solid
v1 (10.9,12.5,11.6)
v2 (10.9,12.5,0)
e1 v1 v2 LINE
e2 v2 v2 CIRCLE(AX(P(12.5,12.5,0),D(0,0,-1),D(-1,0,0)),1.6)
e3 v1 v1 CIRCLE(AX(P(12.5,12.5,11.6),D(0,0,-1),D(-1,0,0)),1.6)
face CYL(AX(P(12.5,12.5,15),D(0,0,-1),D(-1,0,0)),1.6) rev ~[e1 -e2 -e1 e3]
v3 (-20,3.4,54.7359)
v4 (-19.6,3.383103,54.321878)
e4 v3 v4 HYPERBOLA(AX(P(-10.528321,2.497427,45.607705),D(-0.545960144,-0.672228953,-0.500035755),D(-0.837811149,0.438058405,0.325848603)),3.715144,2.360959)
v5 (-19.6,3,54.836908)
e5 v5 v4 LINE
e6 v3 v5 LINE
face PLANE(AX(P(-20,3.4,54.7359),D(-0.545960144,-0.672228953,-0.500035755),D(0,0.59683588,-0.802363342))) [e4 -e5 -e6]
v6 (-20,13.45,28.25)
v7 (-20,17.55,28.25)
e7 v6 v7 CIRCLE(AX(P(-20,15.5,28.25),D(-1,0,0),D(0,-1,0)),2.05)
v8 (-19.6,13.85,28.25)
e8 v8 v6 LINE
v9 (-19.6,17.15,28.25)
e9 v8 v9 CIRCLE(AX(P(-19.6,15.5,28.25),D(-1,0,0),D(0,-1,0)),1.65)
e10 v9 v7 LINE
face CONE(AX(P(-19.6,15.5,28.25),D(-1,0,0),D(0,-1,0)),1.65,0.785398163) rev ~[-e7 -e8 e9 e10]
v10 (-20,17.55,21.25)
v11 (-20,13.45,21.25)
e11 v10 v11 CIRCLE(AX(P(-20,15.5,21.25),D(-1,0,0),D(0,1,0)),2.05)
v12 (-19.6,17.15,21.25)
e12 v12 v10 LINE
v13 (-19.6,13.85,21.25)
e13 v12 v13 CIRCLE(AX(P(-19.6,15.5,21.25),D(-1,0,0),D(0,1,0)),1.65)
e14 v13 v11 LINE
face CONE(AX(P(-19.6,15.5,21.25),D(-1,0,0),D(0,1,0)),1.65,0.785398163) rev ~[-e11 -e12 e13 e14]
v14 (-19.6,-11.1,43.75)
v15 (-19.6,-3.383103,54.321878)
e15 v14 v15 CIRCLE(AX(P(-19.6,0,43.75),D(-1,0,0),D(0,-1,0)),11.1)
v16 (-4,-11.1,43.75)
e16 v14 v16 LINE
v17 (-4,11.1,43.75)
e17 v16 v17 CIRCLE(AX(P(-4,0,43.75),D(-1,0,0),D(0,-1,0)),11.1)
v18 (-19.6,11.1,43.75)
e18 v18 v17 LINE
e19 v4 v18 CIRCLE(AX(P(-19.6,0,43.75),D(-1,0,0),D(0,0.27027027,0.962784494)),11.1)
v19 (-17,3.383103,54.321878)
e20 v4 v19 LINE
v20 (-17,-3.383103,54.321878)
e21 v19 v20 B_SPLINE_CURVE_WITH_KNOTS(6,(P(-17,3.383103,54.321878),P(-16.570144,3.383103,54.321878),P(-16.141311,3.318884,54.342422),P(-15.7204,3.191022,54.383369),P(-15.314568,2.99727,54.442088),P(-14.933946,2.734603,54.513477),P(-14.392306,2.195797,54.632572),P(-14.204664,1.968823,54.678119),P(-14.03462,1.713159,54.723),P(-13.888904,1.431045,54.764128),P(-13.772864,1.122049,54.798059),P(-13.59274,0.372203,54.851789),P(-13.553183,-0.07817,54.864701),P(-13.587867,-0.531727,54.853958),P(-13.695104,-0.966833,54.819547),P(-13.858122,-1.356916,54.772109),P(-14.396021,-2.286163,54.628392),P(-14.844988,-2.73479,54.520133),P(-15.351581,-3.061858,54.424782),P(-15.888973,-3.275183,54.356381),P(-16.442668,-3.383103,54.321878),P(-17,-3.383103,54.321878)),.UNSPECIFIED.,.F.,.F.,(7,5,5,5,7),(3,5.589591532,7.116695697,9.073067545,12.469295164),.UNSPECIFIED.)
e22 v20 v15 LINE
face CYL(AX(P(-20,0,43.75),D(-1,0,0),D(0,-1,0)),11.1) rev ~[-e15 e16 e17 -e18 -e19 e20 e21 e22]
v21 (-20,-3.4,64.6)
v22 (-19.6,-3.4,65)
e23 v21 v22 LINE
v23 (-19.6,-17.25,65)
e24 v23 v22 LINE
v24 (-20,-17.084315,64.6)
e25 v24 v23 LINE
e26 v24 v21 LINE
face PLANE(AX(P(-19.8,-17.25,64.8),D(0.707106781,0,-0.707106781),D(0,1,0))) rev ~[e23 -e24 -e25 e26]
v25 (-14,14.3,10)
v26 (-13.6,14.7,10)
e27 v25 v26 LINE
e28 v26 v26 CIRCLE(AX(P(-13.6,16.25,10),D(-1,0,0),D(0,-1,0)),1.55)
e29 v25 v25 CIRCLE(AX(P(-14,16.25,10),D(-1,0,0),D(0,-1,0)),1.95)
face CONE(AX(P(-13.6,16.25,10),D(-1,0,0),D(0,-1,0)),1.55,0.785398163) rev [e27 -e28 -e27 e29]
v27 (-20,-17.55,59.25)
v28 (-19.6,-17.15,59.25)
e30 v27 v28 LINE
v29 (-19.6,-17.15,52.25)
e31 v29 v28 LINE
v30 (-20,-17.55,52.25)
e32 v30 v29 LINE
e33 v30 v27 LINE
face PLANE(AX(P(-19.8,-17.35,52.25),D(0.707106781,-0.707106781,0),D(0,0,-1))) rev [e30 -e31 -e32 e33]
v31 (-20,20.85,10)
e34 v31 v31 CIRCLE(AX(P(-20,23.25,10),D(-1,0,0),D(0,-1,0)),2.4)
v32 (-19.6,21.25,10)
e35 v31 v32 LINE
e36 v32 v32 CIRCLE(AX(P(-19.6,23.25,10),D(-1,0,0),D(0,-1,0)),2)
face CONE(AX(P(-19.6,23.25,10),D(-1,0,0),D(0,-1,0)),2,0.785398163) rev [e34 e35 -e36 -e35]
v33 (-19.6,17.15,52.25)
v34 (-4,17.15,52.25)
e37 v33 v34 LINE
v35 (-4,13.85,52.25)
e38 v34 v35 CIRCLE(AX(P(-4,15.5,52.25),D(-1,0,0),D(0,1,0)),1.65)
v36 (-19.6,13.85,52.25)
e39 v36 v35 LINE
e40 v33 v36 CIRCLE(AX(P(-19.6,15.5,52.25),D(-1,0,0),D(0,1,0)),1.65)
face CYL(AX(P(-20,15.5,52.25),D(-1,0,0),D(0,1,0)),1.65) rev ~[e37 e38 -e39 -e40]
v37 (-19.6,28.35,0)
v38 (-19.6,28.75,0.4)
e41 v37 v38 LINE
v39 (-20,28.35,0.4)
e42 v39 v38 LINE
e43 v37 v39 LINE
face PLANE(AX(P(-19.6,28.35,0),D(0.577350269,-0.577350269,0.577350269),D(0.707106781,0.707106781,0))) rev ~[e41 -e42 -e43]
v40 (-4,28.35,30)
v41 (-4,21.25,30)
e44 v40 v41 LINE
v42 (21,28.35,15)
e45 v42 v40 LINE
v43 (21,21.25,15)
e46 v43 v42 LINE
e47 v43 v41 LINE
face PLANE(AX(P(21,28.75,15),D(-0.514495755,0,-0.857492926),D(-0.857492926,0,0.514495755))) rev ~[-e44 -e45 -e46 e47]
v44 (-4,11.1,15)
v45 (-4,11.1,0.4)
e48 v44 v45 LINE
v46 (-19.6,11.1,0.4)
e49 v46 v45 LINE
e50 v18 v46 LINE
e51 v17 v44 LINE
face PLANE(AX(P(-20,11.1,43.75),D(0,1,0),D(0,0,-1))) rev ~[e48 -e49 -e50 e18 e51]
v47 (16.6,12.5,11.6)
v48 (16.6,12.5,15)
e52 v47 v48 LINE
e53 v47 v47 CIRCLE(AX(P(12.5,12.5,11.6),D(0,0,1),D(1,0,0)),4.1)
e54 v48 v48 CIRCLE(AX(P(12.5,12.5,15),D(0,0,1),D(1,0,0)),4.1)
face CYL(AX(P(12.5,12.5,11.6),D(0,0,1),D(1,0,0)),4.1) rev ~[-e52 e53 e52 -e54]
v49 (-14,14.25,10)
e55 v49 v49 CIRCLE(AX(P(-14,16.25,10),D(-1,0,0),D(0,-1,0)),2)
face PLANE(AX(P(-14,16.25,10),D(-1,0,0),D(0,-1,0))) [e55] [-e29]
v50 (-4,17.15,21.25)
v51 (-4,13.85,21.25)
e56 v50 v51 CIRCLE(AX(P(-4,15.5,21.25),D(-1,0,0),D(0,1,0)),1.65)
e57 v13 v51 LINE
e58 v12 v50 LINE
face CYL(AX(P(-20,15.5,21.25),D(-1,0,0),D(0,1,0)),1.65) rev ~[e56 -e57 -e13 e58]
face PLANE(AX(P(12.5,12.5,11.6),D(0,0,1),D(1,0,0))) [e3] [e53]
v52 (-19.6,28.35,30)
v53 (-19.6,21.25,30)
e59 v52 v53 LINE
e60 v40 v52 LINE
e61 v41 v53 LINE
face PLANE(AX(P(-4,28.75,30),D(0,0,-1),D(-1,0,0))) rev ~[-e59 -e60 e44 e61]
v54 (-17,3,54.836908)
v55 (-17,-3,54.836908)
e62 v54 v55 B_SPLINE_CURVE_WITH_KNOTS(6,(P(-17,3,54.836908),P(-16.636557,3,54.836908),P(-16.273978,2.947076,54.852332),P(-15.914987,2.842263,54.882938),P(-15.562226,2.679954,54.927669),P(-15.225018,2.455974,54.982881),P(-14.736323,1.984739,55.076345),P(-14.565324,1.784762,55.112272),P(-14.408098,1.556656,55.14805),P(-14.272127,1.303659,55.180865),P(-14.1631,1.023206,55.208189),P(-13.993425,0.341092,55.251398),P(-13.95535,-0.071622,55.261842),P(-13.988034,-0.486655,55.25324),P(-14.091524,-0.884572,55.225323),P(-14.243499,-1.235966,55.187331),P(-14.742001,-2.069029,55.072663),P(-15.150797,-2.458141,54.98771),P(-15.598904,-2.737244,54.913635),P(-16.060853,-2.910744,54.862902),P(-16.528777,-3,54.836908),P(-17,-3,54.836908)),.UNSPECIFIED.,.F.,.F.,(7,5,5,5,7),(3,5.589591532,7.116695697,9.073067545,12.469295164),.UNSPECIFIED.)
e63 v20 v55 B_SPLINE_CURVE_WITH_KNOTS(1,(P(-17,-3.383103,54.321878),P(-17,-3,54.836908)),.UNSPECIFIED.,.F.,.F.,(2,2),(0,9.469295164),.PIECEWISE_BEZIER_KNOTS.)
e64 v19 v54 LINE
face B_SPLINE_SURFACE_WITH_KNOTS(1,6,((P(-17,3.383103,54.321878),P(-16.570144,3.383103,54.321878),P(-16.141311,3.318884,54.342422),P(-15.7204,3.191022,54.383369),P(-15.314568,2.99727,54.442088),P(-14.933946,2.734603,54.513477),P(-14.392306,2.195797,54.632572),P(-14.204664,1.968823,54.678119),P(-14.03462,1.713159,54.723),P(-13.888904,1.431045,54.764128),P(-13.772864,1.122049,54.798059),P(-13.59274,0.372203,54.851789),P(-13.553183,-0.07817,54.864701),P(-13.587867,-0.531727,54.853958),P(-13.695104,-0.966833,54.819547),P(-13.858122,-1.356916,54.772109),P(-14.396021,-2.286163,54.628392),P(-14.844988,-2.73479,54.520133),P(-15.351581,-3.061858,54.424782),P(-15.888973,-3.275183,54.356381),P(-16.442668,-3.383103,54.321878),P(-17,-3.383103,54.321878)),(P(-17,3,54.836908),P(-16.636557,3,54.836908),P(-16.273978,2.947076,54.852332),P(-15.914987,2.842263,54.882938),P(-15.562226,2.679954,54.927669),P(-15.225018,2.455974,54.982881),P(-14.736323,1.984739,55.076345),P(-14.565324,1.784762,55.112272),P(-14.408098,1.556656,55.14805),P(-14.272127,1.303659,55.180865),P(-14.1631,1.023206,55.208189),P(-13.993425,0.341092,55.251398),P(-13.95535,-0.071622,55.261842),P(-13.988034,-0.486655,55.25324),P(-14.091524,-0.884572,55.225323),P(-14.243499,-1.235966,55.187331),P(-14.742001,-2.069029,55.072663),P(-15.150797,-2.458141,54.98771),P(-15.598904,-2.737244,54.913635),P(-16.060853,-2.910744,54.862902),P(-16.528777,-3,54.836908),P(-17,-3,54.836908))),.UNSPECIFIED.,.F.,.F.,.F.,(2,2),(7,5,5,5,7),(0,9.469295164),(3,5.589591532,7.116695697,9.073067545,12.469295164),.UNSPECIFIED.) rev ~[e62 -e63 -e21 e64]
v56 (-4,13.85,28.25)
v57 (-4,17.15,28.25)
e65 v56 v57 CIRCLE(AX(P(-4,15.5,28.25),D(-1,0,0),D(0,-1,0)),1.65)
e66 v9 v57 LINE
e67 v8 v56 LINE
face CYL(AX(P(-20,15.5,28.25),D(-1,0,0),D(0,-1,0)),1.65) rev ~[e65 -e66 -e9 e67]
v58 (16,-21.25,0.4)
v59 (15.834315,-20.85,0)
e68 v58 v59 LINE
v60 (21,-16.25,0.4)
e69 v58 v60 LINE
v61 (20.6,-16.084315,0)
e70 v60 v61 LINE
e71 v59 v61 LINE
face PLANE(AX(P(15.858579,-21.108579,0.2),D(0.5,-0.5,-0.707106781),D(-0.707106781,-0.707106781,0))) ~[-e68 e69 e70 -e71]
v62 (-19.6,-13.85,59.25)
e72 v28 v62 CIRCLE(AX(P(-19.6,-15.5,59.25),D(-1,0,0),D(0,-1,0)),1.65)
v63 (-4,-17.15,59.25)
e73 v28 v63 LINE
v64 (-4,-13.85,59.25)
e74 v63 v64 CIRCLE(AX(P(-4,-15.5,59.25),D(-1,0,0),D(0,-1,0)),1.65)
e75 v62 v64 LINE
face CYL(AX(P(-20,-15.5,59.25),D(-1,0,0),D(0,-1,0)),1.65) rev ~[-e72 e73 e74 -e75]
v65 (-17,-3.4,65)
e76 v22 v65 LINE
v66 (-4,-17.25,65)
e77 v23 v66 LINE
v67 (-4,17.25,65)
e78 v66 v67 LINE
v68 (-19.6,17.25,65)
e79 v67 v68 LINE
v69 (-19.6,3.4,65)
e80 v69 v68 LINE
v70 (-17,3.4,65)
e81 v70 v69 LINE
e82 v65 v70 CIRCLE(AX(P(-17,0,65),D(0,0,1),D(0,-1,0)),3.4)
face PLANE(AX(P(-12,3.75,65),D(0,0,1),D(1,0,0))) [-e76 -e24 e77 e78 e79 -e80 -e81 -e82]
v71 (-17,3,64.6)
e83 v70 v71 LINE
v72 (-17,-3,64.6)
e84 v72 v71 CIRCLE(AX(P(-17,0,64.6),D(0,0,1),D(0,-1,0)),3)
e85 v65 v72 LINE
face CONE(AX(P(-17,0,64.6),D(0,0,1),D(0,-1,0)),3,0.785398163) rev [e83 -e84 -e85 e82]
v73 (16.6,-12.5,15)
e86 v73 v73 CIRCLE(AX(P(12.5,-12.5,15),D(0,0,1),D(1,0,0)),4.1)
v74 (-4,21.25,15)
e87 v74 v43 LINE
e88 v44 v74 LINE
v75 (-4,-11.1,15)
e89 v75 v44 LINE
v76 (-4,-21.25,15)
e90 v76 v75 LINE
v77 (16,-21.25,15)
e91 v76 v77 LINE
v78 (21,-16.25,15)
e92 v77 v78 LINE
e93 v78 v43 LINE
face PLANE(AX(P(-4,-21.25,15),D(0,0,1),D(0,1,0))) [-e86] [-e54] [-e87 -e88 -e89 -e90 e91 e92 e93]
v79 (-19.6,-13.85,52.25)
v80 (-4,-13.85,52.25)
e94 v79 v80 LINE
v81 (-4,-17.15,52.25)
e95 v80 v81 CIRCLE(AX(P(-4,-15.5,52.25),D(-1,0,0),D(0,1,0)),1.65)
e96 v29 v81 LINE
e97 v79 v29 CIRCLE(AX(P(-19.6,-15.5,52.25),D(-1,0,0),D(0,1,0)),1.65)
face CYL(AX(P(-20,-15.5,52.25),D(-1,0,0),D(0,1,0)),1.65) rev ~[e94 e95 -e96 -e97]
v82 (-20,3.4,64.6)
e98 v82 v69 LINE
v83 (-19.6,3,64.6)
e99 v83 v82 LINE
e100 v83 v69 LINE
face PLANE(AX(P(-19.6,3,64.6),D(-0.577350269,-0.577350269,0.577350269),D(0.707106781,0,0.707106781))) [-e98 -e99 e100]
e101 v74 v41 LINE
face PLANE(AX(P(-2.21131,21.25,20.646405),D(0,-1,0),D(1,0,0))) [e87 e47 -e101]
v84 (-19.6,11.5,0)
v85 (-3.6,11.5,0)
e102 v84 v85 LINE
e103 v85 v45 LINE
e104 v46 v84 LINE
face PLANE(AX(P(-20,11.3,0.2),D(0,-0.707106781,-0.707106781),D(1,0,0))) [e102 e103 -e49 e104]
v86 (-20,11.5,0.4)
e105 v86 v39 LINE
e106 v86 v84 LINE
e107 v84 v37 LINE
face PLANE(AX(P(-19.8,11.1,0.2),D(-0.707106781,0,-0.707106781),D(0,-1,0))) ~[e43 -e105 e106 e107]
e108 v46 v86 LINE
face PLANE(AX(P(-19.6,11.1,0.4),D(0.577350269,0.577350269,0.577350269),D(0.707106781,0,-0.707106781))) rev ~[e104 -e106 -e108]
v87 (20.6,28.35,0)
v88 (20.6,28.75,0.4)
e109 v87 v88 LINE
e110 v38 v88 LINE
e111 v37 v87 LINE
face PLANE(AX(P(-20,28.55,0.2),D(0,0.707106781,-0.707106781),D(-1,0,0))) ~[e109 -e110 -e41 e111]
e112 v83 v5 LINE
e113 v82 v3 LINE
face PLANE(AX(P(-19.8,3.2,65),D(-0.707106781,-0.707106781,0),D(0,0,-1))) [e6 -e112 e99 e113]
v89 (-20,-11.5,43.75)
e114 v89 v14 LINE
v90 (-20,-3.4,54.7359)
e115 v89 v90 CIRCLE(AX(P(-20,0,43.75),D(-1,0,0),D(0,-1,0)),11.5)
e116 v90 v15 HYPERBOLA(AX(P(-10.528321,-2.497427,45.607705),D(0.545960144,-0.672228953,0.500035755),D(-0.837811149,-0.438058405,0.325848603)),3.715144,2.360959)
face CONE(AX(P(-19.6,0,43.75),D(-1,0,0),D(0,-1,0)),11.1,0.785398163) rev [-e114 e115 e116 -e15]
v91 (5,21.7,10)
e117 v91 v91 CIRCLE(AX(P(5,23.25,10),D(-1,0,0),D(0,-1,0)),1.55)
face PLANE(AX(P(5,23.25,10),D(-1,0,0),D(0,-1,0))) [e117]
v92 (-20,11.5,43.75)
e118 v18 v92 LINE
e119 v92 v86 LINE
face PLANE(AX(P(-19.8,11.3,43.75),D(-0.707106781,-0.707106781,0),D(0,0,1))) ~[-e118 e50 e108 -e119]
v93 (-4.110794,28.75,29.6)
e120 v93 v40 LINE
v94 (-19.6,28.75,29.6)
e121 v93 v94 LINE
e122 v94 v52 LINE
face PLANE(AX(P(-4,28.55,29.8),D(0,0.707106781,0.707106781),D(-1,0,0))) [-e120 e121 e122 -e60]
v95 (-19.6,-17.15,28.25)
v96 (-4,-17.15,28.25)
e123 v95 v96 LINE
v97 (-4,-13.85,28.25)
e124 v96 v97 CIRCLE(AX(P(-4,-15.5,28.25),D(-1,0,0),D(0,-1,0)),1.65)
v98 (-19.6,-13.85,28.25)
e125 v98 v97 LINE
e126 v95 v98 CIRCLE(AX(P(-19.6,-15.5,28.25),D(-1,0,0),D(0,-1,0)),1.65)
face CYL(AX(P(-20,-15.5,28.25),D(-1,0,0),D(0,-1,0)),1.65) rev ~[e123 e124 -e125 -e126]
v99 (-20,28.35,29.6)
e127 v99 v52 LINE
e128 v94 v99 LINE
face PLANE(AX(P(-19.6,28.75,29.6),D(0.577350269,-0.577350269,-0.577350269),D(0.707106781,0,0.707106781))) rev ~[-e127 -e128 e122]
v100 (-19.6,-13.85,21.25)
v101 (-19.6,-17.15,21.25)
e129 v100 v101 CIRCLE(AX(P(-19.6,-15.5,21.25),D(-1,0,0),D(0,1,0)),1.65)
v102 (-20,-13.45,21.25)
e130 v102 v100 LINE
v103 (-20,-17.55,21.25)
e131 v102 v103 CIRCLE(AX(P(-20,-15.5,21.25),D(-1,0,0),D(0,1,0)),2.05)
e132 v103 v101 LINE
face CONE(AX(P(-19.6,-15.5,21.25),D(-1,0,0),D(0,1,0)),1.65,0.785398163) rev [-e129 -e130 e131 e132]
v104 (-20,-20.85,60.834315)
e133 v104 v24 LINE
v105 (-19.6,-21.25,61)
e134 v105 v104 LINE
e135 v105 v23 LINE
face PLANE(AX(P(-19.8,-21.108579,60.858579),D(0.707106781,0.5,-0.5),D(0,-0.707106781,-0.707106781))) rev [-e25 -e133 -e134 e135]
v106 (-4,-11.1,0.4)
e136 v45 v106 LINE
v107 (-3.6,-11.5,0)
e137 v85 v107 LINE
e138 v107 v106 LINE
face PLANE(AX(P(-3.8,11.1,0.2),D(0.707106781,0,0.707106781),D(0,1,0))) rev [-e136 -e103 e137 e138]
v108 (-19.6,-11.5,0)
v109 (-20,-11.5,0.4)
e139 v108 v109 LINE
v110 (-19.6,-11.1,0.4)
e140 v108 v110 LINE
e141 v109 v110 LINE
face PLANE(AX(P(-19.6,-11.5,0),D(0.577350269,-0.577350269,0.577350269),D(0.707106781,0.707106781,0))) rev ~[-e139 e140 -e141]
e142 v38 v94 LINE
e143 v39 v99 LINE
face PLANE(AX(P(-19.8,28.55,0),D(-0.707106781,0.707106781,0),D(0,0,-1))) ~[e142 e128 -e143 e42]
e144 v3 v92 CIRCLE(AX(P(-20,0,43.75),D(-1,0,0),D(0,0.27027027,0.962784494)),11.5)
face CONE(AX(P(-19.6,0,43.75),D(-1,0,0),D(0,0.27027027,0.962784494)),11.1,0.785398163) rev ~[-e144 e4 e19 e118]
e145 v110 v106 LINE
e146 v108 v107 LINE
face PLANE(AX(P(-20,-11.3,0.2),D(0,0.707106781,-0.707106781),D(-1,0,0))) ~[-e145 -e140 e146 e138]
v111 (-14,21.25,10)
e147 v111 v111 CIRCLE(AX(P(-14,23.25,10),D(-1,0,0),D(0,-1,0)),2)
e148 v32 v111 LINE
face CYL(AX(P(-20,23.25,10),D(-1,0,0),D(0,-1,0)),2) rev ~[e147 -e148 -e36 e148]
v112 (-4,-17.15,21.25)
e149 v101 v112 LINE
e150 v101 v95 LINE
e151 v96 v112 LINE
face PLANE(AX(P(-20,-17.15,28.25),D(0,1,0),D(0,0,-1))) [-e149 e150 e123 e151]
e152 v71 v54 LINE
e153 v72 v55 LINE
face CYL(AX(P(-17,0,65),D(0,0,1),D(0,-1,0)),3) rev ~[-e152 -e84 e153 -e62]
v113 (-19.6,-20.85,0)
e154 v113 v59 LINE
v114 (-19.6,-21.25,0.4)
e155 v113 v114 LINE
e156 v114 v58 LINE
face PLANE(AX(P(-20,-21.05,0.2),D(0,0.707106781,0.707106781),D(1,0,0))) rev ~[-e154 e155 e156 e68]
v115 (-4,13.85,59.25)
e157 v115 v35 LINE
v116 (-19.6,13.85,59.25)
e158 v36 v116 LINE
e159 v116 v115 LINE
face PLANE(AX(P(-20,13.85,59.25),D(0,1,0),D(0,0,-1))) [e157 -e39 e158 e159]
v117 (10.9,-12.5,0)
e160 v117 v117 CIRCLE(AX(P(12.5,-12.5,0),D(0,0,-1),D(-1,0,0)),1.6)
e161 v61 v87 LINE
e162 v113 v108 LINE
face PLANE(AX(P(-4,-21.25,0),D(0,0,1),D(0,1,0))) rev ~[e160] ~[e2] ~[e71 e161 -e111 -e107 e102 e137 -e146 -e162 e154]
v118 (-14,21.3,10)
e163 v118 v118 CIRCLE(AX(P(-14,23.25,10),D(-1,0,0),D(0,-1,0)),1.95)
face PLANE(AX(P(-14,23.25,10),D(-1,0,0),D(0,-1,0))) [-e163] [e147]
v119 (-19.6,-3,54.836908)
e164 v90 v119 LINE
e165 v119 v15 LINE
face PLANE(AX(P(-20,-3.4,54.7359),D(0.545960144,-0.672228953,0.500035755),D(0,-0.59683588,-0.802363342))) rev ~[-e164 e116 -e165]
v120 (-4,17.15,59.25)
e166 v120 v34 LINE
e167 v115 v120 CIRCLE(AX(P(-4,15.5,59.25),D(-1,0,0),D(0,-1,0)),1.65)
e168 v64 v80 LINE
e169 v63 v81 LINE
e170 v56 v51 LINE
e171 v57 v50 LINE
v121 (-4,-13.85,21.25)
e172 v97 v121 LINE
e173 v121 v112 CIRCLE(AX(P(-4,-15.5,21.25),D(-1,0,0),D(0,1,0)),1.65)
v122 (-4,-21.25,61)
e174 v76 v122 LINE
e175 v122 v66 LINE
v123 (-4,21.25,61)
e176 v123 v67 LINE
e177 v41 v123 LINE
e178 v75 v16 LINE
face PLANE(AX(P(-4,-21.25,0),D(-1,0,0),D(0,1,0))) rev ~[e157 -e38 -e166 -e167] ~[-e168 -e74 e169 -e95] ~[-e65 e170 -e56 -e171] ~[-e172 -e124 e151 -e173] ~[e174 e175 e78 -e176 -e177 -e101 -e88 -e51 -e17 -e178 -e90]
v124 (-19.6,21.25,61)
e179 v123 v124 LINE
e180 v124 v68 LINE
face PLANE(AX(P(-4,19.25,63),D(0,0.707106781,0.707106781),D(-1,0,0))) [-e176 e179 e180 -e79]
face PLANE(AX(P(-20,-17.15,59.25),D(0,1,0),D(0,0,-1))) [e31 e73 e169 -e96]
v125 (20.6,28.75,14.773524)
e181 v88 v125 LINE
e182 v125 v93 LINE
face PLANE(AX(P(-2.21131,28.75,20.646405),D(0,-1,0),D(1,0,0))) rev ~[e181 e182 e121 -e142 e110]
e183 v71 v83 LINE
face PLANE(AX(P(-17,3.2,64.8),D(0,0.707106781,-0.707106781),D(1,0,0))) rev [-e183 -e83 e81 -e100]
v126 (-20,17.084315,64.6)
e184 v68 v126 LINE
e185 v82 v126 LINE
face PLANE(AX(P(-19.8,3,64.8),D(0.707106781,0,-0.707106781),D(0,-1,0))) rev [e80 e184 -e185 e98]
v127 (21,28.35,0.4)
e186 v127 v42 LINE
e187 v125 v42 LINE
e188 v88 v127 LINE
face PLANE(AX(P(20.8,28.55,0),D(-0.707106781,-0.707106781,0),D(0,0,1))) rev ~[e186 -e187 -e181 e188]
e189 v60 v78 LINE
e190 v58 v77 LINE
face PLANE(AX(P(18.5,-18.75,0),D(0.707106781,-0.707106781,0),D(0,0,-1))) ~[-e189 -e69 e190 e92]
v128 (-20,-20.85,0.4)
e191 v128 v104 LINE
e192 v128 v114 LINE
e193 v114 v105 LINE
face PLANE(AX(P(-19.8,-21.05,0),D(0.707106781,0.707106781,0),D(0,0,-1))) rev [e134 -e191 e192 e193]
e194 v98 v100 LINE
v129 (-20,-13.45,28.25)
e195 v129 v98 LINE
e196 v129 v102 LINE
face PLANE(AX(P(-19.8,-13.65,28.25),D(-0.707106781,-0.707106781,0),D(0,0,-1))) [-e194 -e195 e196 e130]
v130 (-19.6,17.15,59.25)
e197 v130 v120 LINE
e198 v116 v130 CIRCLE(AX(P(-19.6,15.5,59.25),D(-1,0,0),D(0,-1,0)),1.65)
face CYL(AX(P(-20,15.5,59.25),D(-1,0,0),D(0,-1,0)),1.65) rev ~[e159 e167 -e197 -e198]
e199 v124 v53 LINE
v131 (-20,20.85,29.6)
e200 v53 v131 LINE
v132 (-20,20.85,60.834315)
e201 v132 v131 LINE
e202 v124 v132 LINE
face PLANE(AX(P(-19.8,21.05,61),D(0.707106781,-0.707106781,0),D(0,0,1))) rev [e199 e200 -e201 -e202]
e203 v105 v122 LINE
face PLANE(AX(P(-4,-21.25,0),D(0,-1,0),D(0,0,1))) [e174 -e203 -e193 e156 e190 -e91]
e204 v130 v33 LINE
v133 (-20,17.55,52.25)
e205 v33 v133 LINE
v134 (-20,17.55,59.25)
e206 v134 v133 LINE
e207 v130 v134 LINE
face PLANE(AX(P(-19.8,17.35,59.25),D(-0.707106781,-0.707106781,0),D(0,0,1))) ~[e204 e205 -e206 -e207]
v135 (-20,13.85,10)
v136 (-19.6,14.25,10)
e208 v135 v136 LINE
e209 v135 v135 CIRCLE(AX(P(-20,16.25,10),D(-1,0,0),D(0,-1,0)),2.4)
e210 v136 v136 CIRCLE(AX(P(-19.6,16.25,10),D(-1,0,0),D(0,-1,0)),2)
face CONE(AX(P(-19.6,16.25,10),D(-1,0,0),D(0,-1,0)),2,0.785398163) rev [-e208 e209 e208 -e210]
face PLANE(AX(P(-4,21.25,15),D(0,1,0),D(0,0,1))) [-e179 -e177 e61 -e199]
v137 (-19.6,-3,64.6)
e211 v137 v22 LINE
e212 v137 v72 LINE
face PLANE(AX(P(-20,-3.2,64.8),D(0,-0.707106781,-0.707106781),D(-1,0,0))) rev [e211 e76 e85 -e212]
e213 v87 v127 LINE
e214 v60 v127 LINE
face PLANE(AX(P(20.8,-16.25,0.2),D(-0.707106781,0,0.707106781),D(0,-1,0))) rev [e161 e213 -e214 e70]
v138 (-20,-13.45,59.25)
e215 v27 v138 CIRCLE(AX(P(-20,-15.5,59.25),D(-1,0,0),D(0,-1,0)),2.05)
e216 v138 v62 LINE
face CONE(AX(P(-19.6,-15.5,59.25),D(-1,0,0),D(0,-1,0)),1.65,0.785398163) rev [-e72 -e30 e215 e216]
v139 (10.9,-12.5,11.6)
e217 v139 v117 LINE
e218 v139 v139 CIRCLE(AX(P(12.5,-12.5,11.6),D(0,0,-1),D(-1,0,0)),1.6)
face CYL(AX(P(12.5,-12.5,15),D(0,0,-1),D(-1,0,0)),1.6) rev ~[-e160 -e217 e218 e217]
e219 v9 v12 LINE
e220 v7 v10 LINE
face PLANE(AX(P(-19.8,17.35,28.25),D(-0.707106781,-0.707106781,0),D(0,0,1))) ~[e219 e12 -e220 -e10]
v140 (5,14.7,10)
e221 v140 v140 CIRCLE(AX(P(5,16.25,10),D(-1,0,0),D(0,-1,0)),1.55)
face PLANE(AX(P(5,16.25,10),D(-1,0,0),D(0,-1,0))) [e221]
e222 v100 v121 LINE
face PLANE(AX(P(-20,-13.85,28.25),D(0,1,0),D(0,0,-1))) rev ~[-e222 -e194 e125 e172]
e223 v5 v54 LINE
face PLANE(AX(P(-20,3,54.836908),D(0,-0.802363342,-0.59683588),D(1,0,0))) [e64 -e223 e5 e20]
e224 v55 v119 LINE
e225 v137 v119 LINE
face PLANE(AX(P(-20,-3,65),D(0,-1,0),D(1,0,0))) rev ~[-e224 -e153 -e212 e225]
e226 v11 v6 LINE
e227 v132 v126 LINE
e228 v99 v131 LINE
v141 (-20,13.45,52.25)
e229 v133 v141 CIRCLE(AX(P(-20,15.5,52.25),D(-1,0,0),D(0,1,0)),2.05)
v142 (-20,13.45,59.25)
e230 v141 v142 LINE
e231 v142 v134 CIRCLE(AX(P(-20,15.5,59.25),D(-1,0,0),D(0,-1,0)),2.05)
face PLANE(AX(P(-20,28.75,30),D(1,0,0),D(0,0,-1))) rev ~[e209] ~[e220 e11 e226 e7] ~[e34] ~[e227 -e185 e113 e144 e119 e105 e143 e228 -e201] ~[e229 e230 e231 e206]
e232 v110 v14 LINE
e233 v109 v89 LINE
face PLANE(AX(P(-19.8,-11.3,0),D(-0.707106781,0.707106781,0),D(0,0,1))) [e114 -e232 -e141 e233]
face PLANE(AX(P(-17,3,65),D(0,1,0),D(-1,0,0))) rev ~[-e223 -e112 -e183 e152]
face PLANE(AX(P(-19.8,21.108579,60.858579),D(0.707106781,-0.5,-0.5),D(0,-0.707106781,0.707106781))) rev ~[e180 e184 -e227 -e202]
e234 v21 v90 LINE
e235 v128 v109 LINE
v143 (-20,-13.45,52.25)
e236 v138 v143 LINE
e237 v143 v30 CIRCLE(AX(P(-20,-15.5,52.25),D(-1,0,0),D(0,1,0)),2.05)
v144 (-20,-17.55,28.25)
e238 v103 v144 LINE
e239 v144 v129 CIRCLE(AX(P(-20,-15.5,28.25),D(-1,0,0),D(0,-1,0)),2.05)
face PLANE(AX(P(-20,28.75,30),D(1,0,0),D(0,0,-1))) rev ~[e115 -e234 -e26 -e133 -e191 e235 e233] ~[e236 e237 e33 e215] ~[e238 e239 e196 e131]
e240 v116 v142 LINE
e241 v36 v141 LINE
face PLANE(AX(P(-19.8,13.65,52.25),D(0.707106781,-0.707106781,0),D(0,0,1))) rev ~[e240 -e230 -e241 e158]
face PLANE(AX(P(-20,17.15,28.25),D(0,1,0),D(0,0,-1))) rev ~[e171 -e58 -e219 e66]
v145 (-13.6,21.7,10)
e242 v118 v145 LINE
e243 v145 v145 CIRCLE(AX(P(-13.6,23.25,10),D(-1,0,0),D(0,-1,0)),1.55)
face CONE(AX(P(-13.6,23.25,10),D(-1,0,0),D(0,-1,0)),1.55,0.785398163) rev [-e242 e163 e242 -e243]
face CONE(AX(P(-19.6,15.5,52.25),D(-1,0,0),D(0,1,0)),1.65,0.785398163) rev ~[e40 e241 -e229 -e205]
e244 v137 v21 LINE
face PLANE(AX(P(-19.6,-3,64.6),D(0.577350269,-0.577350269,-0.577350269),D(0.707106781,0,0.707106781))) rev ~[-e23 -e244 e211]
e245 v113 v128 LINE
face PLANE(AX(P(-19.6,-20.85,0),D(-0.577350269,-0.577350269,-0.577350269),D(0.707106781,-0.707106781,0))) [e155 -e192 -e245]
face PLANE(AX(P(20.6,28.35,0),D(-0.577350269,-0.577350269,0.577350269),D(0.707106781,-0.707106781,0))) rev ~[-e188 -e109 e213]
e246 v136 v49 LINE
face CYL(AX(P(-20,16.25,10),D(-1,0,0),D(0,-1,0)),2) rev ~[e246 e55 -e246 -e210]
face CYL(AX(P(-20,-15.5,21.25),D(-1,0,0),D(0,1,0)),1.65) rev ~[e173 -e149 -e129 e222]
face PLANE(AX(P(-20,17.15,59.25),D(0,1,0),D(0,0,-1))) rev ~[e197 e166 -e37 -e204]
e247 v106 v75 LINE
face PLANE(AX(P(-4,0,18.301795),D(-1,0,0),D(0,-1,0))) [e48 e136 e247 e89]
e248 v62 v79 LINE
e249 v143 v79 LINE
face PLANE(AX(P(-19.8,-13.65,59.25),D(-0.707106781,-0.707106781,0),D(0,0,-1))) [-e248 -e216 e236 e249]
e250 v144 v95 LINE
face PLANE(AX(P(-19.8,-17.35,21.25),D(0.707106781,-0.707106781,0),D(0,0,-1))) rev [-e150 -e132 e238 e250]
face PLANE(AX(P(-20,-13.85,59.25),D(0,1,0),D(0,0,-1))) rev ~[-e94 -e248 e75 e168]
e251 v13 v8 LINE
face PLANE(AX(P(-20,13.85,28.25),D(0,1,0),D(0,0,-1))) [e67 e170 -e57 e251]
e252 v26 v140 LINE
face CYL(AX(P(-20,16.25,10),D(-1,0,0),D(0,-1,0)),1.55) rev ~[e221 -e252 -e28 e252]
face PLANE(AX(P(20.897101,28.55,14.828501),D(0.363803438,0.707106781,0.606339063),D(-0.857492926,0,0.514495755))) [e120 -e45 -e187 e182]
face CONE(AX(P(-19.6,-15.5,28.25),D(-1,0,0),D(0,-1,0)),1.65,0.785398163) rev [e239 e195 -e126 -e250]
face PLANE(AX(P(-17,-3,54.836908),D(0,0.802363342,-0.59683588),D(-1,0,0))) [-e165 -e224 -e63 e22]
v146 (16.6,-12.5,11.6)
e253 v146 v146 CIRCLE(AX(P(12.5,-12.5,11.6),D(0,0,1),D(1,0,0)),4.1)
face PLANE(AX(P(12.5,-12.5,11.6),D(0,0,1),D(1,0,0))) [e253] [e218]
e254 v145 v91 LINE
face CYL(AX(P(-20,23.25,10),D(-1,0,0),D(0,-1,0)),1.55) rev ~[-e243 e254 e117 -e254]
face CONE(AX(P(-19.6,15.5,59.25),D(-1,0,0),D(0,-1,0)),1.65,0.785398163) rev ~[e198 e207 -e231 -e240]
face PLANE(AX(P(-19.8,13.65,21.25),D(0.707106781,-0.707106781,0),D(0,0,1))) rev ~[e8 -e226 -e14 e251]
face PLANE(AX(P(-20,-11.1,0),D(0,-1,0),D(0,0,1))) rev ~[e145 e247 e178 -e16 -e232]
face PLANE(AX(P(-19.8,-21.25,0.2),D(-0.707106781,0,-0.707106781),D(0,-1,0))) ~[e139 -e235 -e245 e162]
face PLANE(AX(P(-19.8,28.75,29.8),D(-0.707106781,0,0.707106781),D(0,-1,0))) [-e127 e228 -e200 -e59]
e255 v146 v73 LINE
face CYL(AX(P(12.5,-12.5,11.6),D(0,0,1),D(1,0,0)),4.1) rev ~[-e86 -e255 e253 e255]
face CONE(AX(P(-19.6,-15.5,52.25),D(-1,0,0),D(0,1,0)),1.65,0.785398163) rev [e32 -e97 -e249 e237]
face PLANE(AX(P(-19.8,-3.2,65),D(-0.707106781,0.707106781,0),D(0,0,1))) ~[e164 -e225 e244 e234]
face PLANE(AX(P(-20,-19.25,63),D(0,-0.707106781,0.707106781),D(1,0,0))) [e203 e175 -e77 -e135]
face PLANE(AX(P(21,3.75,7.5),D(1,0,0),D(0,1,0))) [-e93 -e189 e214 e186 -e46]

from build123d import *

# Parameters (mm, degrees)
SKETCH_W              = 16
SKETCH_H              = 50
PAD_DEPTH             = 65
POCKET_DEPTH          = 16.001
SKETCH002_W           = 50
SKETCH002_H           = 15
PAD001_DEPTH          = 25
POCKET001_DEPTH       = 16
HOLE_D                = 3.2
HOLE_DEPTH            = 25
HOLE_CBORE_D          = 8.2
HOLE_CBORE_DEPTH      = 3.4
SKETCH013_W           = 7.5
SKETCH013_H           = 50
POCKET002_DEPTH       = 16.001
PAD006_DEPTH          = 7.5
SKETCH039_R           = 1.55
POCKET022002_DEPTH    = 25
SKETCH040_R           = 2
POCKET022003_DEPTH    = 6
POCKET022004_DEPTH    = 65.001
CHAMFER_SIZE          = 4
CHAMFER003015003_SIZE = 5
CHAMFER003015004_SIZE = 0.4


with BuildPart() as part:
    # Sketch → Pad (new body)
    with BuildSketch(Plane.XY):
        with Locations((-12, 3.75)):
            Rectangle(SKETCH_W, SKETCH_H)
    extrude(amount=PAD_DEPTH)

    # Sketch001 (on Face4 of Pad) → Pocket (cut, through all)
    with BuildSketch(Plane(origin=(-20, 0, 0), x_dir=(0, -1, 0), z_dir=(-1, 0, 0))):
        with BuildLine():
            ThreePointArc((11.1, 43.75), (0, 54.85), (-11.1, 43.75))
            Line((-11.1, 43.75), (-11.1, 36.75))
            ThreePointArc((-11.1, 36.75), (0, 25.65), (11.1, 36.75))
            Line((11.1, 43.75), (11.1, 36.75))
        make_face()
        with BuildLine():
            ThreePointArc((-13.85, 59.25), (-15.5, 60.9), (-17.15, 59.25))
            Line((-17.15, 59.25), (-17.15, 52.25))
            ThreePointArc((-17.15, 52.25), (-15.5, 50.6), (-13.85, 52.25))
            Line((-13.85, 59.25), (-13.85, 52.25))
        make_face()
        with BuildLine():
            ThreePointArc((17.15, 59.25), (15.5, 60.9), (13.85, 59.25))
            Line((13.85, 59.25), (13.85, 52.25))
            ThreePointArc((13.85, 52.25), (15.5, 50.6), (17.15, 52.25))
            Line((17.15, 59.25), (17.15, 52.25))
        make_face()
        with BuildLine():
            ThreePointArc((-13.85, 28.25), (-15.5, 29.9), (-17.15, 28.25))
            Line((-17.15, 28.25), (-17.15, 21.25))
            ThreePointArc((-17.15, 21.25), (-15.5, 19.6), (-13.85, 21.25))
            Line((-13.85, 28.25), (-13.85, 21.25))
        make_face()
        with BuildLine():
            ThreePointArc((17.15, 28.25), (15.5, 29.9), (13.85, 28.25))
            Line((13.85, 28.25), (13.85, 21.25))
            ThreePointArc((13.85, 21.25), (15.5, 19.6), (17.15, 21.25))
            Line((17.15, 28.25), (17.15, 21.25))
        make_face()
    extrude(amount=-POCKET_DEPTH, mode=Mode.SUBTRACT)

    # Sketch002 (on Face3 of Pocket) → Pad001 (join)
    with BuildSketch(Plane.YZ.offset(-4)):
        with Locations((3.75, 7.5)):
            Rectangle(SKETCH002_W, SKETCH002_H)
    extrude(amount=PAD001_DEPTH)

    # Sketch011 (on Face2 of Pad001) → Pocket001 (cut)
    with BuildSketch(Plane(origin=(-20, 0, 0), x_dir=(0, -1, 0), z_dir=(-1, 0, 0))):
        with BuildLine():
            Line((-11.1, 36.75), (-11.1, 0))
            Line((-11.1, 0), (11.1, 0))
            Line((11.1, 0), (11.1, 36.75))
            ThreePointArc((-11.1, 36.75), (0, 25.65), (11.1, 36.75))
        make_face()
    extrude(amount=-POCKET001_DEPTH, mode=Mode.SUBTRACT)

    # Hole
    with Locations(Plane.XY.offset(15)):
        with Locations((12.5, 12.5), (12.5, -12.5)):
            CounterBoreHole(HOLE_D / 2, HOLE_CBORE_D / 2, HOLE_CBORE_DEPTH, depth=HOLE_DEPTH)

    # Sketch013 (on Face4 of Hole) → Pocket002 (cut, through all)
    with BuildSketch(Plane.YZ.offset(-4)):
        with Locations((25, 40)):
            Rectangle(SKETCH013_W, SKETCH013_H)
    extrude(amount=-POCKET002_DEPTH, mode=Mode.SUBTRACT)

    # Sketch014 (on Face1 of Pocket002) → Pad006 (join)
    with BuildSketch(Plane(origin=(0, 28.75, 0), x_dir=(-1, 0, 0), z_dir=(0, 1, 0))):
        Polygon((-21, 15), (4, 30), (20, 30), (20, 15), align=None)
    extrude(amount=-PAD006_DEPTH)

    # Sketch039 (on Face35 of Pad006) → Pocket022002 (cut)
    with BuildSketch(Plane(origin=(-20, 0, 0), x_dir=(0, -1, 0), z_dir=(-1, 0, 0))):
        with Locations((-23.25, 10)):
            Circle(SKETCH039_R)
        with Locations((-16.25, 10)):
            Circle(SKETCH039_R)
    extrude(amount=-POCKET022002_DEPTH, mode=Mode.SUBTRACT)

    # Sketch040 (on Face2 of Pocket022002) → Pocket022003 (cut)
    with BuildSketch(Plane(origin=(-20, 0, 0), x_dir=(0, -1, 0), z_dir=(-1, 0, 0))):
        with Locations((-23.25, 10)):
            Circle(SKETCH040_R)
        with Locations((-16.25, 10)):
            Circle(SKETCH040_R)
    extrude(amount=-POCKET022003_DEPTH, mode=Mode.SUBTRACT)

    # Sketch041 (on Face8 of Pocket022003) → Pocket022004 (cut, through all)
    with BuildSketch(Plane.XY.offset(65)):
        with BuildLine():
            ThreePointArc((-17, -3), (-14, 0), (-17, 3))
            Line((-17, 3), (-20, 3))
            Line((-20, 3), (-20, -3))
            Line((-20, -3), (-17, -3))
        make_face()
    extrude(amount=-POCKET022004_DEPTH, mode=Mode.SUBTRACT)

    # Chamfer
    chamfer_edges = [part.edges().sort_by_distance(p)[0] for p in [
        (-12, -21.25, 65),
        (-12, 21.25, 65),
    ]]
    chamfer(chamfer_edges, length=CHAMFER_SIZE)

    # Chamfer003015003
    chamfer003015003_edges = [part.edges().sort_by_distance(p)[0] for p in [
        (21, -21.25, 7.5),
    ]]
    chamfer(chamfer003015003_edges, length=CHAMFER003015003_SIZE)

    # Chamfer003015004
    chamfer003015004_edges = [part.edges().sort_by_distance(p)[0] for p in [
        (-20, 21.25, 45.5),
        (-20, 19.25, 63),
        (-20, 25, 30),
        (-20, 10.125, 65),
        (-20, 28.75, 15),
        (-20, 3, 59.718454),
        (-20, 19.925, 0),
        (-20, 8.846186, 50.454849),
        (-20, 11.1, 21.875),
        (-20, 15.5, 60.9),
        (-20, 13.85, 55.75),
        (-20, 17.15, 55.75),
        (-20, 15.5, 50.6),
        (-20, 15.5, 29.9),
        (-20, 13.85, 24.75),
        (-20, 17.15, 24.75),
        (-20, 15.5, 19.6),
        (-20, 25.25, 10),
        (-20, 18.25, 10),
        (-20, -10.125, 65),
        (-20, -19.25, 63),
        (-20, -3, 59.718454),
        (-20, -21.25, 30.5),
        (-20, -8.846186, 50.454849),
        (-20, -16.175, 0),
        (-20, -11.1, 21.875),
        (-20, -15.5, 60.9),
        (-20, -17.15, 55.75),
        (-20, -13.85, 55.75),
        (-20, -15.5, 50.6),
        (-20, -15.5, 29.9),
        (-20, -17.15, 24.75),
        (-20, -13.85, 24.75),
        (-20, -15.5, 19.6),
        (-18.5, 3, 65),
        (-14, 0, 65),
        (-18.5, -3, 65),
        (-18.5, -3, 54.436908),
        (-14.878805, -2.121446, 54.645388),
        (-14.878805, 2.121446, 54.645388),
        (-18.5, 3, 54.436908),
        (-12, -11.1, 0),
        (-4, 0, 0),
        (-12, 11.1, 0),
        (-12, 28.75, 30),
        (8.5, 28.75, 22.5),
        (21, 28.75, 7.5),
        (0.5, 28.75, 0),
        (-2, -21.25, 0),
        (18.5, -18.75, 0),
        (21, 6.25, 0),
        (-14, 24.8, 10),
        (-14, 17.8, 10),
    ]]
    chamfer(chamfer003015004_edges, length=CHAMFER003015004_SIZE)


solid = part.part
